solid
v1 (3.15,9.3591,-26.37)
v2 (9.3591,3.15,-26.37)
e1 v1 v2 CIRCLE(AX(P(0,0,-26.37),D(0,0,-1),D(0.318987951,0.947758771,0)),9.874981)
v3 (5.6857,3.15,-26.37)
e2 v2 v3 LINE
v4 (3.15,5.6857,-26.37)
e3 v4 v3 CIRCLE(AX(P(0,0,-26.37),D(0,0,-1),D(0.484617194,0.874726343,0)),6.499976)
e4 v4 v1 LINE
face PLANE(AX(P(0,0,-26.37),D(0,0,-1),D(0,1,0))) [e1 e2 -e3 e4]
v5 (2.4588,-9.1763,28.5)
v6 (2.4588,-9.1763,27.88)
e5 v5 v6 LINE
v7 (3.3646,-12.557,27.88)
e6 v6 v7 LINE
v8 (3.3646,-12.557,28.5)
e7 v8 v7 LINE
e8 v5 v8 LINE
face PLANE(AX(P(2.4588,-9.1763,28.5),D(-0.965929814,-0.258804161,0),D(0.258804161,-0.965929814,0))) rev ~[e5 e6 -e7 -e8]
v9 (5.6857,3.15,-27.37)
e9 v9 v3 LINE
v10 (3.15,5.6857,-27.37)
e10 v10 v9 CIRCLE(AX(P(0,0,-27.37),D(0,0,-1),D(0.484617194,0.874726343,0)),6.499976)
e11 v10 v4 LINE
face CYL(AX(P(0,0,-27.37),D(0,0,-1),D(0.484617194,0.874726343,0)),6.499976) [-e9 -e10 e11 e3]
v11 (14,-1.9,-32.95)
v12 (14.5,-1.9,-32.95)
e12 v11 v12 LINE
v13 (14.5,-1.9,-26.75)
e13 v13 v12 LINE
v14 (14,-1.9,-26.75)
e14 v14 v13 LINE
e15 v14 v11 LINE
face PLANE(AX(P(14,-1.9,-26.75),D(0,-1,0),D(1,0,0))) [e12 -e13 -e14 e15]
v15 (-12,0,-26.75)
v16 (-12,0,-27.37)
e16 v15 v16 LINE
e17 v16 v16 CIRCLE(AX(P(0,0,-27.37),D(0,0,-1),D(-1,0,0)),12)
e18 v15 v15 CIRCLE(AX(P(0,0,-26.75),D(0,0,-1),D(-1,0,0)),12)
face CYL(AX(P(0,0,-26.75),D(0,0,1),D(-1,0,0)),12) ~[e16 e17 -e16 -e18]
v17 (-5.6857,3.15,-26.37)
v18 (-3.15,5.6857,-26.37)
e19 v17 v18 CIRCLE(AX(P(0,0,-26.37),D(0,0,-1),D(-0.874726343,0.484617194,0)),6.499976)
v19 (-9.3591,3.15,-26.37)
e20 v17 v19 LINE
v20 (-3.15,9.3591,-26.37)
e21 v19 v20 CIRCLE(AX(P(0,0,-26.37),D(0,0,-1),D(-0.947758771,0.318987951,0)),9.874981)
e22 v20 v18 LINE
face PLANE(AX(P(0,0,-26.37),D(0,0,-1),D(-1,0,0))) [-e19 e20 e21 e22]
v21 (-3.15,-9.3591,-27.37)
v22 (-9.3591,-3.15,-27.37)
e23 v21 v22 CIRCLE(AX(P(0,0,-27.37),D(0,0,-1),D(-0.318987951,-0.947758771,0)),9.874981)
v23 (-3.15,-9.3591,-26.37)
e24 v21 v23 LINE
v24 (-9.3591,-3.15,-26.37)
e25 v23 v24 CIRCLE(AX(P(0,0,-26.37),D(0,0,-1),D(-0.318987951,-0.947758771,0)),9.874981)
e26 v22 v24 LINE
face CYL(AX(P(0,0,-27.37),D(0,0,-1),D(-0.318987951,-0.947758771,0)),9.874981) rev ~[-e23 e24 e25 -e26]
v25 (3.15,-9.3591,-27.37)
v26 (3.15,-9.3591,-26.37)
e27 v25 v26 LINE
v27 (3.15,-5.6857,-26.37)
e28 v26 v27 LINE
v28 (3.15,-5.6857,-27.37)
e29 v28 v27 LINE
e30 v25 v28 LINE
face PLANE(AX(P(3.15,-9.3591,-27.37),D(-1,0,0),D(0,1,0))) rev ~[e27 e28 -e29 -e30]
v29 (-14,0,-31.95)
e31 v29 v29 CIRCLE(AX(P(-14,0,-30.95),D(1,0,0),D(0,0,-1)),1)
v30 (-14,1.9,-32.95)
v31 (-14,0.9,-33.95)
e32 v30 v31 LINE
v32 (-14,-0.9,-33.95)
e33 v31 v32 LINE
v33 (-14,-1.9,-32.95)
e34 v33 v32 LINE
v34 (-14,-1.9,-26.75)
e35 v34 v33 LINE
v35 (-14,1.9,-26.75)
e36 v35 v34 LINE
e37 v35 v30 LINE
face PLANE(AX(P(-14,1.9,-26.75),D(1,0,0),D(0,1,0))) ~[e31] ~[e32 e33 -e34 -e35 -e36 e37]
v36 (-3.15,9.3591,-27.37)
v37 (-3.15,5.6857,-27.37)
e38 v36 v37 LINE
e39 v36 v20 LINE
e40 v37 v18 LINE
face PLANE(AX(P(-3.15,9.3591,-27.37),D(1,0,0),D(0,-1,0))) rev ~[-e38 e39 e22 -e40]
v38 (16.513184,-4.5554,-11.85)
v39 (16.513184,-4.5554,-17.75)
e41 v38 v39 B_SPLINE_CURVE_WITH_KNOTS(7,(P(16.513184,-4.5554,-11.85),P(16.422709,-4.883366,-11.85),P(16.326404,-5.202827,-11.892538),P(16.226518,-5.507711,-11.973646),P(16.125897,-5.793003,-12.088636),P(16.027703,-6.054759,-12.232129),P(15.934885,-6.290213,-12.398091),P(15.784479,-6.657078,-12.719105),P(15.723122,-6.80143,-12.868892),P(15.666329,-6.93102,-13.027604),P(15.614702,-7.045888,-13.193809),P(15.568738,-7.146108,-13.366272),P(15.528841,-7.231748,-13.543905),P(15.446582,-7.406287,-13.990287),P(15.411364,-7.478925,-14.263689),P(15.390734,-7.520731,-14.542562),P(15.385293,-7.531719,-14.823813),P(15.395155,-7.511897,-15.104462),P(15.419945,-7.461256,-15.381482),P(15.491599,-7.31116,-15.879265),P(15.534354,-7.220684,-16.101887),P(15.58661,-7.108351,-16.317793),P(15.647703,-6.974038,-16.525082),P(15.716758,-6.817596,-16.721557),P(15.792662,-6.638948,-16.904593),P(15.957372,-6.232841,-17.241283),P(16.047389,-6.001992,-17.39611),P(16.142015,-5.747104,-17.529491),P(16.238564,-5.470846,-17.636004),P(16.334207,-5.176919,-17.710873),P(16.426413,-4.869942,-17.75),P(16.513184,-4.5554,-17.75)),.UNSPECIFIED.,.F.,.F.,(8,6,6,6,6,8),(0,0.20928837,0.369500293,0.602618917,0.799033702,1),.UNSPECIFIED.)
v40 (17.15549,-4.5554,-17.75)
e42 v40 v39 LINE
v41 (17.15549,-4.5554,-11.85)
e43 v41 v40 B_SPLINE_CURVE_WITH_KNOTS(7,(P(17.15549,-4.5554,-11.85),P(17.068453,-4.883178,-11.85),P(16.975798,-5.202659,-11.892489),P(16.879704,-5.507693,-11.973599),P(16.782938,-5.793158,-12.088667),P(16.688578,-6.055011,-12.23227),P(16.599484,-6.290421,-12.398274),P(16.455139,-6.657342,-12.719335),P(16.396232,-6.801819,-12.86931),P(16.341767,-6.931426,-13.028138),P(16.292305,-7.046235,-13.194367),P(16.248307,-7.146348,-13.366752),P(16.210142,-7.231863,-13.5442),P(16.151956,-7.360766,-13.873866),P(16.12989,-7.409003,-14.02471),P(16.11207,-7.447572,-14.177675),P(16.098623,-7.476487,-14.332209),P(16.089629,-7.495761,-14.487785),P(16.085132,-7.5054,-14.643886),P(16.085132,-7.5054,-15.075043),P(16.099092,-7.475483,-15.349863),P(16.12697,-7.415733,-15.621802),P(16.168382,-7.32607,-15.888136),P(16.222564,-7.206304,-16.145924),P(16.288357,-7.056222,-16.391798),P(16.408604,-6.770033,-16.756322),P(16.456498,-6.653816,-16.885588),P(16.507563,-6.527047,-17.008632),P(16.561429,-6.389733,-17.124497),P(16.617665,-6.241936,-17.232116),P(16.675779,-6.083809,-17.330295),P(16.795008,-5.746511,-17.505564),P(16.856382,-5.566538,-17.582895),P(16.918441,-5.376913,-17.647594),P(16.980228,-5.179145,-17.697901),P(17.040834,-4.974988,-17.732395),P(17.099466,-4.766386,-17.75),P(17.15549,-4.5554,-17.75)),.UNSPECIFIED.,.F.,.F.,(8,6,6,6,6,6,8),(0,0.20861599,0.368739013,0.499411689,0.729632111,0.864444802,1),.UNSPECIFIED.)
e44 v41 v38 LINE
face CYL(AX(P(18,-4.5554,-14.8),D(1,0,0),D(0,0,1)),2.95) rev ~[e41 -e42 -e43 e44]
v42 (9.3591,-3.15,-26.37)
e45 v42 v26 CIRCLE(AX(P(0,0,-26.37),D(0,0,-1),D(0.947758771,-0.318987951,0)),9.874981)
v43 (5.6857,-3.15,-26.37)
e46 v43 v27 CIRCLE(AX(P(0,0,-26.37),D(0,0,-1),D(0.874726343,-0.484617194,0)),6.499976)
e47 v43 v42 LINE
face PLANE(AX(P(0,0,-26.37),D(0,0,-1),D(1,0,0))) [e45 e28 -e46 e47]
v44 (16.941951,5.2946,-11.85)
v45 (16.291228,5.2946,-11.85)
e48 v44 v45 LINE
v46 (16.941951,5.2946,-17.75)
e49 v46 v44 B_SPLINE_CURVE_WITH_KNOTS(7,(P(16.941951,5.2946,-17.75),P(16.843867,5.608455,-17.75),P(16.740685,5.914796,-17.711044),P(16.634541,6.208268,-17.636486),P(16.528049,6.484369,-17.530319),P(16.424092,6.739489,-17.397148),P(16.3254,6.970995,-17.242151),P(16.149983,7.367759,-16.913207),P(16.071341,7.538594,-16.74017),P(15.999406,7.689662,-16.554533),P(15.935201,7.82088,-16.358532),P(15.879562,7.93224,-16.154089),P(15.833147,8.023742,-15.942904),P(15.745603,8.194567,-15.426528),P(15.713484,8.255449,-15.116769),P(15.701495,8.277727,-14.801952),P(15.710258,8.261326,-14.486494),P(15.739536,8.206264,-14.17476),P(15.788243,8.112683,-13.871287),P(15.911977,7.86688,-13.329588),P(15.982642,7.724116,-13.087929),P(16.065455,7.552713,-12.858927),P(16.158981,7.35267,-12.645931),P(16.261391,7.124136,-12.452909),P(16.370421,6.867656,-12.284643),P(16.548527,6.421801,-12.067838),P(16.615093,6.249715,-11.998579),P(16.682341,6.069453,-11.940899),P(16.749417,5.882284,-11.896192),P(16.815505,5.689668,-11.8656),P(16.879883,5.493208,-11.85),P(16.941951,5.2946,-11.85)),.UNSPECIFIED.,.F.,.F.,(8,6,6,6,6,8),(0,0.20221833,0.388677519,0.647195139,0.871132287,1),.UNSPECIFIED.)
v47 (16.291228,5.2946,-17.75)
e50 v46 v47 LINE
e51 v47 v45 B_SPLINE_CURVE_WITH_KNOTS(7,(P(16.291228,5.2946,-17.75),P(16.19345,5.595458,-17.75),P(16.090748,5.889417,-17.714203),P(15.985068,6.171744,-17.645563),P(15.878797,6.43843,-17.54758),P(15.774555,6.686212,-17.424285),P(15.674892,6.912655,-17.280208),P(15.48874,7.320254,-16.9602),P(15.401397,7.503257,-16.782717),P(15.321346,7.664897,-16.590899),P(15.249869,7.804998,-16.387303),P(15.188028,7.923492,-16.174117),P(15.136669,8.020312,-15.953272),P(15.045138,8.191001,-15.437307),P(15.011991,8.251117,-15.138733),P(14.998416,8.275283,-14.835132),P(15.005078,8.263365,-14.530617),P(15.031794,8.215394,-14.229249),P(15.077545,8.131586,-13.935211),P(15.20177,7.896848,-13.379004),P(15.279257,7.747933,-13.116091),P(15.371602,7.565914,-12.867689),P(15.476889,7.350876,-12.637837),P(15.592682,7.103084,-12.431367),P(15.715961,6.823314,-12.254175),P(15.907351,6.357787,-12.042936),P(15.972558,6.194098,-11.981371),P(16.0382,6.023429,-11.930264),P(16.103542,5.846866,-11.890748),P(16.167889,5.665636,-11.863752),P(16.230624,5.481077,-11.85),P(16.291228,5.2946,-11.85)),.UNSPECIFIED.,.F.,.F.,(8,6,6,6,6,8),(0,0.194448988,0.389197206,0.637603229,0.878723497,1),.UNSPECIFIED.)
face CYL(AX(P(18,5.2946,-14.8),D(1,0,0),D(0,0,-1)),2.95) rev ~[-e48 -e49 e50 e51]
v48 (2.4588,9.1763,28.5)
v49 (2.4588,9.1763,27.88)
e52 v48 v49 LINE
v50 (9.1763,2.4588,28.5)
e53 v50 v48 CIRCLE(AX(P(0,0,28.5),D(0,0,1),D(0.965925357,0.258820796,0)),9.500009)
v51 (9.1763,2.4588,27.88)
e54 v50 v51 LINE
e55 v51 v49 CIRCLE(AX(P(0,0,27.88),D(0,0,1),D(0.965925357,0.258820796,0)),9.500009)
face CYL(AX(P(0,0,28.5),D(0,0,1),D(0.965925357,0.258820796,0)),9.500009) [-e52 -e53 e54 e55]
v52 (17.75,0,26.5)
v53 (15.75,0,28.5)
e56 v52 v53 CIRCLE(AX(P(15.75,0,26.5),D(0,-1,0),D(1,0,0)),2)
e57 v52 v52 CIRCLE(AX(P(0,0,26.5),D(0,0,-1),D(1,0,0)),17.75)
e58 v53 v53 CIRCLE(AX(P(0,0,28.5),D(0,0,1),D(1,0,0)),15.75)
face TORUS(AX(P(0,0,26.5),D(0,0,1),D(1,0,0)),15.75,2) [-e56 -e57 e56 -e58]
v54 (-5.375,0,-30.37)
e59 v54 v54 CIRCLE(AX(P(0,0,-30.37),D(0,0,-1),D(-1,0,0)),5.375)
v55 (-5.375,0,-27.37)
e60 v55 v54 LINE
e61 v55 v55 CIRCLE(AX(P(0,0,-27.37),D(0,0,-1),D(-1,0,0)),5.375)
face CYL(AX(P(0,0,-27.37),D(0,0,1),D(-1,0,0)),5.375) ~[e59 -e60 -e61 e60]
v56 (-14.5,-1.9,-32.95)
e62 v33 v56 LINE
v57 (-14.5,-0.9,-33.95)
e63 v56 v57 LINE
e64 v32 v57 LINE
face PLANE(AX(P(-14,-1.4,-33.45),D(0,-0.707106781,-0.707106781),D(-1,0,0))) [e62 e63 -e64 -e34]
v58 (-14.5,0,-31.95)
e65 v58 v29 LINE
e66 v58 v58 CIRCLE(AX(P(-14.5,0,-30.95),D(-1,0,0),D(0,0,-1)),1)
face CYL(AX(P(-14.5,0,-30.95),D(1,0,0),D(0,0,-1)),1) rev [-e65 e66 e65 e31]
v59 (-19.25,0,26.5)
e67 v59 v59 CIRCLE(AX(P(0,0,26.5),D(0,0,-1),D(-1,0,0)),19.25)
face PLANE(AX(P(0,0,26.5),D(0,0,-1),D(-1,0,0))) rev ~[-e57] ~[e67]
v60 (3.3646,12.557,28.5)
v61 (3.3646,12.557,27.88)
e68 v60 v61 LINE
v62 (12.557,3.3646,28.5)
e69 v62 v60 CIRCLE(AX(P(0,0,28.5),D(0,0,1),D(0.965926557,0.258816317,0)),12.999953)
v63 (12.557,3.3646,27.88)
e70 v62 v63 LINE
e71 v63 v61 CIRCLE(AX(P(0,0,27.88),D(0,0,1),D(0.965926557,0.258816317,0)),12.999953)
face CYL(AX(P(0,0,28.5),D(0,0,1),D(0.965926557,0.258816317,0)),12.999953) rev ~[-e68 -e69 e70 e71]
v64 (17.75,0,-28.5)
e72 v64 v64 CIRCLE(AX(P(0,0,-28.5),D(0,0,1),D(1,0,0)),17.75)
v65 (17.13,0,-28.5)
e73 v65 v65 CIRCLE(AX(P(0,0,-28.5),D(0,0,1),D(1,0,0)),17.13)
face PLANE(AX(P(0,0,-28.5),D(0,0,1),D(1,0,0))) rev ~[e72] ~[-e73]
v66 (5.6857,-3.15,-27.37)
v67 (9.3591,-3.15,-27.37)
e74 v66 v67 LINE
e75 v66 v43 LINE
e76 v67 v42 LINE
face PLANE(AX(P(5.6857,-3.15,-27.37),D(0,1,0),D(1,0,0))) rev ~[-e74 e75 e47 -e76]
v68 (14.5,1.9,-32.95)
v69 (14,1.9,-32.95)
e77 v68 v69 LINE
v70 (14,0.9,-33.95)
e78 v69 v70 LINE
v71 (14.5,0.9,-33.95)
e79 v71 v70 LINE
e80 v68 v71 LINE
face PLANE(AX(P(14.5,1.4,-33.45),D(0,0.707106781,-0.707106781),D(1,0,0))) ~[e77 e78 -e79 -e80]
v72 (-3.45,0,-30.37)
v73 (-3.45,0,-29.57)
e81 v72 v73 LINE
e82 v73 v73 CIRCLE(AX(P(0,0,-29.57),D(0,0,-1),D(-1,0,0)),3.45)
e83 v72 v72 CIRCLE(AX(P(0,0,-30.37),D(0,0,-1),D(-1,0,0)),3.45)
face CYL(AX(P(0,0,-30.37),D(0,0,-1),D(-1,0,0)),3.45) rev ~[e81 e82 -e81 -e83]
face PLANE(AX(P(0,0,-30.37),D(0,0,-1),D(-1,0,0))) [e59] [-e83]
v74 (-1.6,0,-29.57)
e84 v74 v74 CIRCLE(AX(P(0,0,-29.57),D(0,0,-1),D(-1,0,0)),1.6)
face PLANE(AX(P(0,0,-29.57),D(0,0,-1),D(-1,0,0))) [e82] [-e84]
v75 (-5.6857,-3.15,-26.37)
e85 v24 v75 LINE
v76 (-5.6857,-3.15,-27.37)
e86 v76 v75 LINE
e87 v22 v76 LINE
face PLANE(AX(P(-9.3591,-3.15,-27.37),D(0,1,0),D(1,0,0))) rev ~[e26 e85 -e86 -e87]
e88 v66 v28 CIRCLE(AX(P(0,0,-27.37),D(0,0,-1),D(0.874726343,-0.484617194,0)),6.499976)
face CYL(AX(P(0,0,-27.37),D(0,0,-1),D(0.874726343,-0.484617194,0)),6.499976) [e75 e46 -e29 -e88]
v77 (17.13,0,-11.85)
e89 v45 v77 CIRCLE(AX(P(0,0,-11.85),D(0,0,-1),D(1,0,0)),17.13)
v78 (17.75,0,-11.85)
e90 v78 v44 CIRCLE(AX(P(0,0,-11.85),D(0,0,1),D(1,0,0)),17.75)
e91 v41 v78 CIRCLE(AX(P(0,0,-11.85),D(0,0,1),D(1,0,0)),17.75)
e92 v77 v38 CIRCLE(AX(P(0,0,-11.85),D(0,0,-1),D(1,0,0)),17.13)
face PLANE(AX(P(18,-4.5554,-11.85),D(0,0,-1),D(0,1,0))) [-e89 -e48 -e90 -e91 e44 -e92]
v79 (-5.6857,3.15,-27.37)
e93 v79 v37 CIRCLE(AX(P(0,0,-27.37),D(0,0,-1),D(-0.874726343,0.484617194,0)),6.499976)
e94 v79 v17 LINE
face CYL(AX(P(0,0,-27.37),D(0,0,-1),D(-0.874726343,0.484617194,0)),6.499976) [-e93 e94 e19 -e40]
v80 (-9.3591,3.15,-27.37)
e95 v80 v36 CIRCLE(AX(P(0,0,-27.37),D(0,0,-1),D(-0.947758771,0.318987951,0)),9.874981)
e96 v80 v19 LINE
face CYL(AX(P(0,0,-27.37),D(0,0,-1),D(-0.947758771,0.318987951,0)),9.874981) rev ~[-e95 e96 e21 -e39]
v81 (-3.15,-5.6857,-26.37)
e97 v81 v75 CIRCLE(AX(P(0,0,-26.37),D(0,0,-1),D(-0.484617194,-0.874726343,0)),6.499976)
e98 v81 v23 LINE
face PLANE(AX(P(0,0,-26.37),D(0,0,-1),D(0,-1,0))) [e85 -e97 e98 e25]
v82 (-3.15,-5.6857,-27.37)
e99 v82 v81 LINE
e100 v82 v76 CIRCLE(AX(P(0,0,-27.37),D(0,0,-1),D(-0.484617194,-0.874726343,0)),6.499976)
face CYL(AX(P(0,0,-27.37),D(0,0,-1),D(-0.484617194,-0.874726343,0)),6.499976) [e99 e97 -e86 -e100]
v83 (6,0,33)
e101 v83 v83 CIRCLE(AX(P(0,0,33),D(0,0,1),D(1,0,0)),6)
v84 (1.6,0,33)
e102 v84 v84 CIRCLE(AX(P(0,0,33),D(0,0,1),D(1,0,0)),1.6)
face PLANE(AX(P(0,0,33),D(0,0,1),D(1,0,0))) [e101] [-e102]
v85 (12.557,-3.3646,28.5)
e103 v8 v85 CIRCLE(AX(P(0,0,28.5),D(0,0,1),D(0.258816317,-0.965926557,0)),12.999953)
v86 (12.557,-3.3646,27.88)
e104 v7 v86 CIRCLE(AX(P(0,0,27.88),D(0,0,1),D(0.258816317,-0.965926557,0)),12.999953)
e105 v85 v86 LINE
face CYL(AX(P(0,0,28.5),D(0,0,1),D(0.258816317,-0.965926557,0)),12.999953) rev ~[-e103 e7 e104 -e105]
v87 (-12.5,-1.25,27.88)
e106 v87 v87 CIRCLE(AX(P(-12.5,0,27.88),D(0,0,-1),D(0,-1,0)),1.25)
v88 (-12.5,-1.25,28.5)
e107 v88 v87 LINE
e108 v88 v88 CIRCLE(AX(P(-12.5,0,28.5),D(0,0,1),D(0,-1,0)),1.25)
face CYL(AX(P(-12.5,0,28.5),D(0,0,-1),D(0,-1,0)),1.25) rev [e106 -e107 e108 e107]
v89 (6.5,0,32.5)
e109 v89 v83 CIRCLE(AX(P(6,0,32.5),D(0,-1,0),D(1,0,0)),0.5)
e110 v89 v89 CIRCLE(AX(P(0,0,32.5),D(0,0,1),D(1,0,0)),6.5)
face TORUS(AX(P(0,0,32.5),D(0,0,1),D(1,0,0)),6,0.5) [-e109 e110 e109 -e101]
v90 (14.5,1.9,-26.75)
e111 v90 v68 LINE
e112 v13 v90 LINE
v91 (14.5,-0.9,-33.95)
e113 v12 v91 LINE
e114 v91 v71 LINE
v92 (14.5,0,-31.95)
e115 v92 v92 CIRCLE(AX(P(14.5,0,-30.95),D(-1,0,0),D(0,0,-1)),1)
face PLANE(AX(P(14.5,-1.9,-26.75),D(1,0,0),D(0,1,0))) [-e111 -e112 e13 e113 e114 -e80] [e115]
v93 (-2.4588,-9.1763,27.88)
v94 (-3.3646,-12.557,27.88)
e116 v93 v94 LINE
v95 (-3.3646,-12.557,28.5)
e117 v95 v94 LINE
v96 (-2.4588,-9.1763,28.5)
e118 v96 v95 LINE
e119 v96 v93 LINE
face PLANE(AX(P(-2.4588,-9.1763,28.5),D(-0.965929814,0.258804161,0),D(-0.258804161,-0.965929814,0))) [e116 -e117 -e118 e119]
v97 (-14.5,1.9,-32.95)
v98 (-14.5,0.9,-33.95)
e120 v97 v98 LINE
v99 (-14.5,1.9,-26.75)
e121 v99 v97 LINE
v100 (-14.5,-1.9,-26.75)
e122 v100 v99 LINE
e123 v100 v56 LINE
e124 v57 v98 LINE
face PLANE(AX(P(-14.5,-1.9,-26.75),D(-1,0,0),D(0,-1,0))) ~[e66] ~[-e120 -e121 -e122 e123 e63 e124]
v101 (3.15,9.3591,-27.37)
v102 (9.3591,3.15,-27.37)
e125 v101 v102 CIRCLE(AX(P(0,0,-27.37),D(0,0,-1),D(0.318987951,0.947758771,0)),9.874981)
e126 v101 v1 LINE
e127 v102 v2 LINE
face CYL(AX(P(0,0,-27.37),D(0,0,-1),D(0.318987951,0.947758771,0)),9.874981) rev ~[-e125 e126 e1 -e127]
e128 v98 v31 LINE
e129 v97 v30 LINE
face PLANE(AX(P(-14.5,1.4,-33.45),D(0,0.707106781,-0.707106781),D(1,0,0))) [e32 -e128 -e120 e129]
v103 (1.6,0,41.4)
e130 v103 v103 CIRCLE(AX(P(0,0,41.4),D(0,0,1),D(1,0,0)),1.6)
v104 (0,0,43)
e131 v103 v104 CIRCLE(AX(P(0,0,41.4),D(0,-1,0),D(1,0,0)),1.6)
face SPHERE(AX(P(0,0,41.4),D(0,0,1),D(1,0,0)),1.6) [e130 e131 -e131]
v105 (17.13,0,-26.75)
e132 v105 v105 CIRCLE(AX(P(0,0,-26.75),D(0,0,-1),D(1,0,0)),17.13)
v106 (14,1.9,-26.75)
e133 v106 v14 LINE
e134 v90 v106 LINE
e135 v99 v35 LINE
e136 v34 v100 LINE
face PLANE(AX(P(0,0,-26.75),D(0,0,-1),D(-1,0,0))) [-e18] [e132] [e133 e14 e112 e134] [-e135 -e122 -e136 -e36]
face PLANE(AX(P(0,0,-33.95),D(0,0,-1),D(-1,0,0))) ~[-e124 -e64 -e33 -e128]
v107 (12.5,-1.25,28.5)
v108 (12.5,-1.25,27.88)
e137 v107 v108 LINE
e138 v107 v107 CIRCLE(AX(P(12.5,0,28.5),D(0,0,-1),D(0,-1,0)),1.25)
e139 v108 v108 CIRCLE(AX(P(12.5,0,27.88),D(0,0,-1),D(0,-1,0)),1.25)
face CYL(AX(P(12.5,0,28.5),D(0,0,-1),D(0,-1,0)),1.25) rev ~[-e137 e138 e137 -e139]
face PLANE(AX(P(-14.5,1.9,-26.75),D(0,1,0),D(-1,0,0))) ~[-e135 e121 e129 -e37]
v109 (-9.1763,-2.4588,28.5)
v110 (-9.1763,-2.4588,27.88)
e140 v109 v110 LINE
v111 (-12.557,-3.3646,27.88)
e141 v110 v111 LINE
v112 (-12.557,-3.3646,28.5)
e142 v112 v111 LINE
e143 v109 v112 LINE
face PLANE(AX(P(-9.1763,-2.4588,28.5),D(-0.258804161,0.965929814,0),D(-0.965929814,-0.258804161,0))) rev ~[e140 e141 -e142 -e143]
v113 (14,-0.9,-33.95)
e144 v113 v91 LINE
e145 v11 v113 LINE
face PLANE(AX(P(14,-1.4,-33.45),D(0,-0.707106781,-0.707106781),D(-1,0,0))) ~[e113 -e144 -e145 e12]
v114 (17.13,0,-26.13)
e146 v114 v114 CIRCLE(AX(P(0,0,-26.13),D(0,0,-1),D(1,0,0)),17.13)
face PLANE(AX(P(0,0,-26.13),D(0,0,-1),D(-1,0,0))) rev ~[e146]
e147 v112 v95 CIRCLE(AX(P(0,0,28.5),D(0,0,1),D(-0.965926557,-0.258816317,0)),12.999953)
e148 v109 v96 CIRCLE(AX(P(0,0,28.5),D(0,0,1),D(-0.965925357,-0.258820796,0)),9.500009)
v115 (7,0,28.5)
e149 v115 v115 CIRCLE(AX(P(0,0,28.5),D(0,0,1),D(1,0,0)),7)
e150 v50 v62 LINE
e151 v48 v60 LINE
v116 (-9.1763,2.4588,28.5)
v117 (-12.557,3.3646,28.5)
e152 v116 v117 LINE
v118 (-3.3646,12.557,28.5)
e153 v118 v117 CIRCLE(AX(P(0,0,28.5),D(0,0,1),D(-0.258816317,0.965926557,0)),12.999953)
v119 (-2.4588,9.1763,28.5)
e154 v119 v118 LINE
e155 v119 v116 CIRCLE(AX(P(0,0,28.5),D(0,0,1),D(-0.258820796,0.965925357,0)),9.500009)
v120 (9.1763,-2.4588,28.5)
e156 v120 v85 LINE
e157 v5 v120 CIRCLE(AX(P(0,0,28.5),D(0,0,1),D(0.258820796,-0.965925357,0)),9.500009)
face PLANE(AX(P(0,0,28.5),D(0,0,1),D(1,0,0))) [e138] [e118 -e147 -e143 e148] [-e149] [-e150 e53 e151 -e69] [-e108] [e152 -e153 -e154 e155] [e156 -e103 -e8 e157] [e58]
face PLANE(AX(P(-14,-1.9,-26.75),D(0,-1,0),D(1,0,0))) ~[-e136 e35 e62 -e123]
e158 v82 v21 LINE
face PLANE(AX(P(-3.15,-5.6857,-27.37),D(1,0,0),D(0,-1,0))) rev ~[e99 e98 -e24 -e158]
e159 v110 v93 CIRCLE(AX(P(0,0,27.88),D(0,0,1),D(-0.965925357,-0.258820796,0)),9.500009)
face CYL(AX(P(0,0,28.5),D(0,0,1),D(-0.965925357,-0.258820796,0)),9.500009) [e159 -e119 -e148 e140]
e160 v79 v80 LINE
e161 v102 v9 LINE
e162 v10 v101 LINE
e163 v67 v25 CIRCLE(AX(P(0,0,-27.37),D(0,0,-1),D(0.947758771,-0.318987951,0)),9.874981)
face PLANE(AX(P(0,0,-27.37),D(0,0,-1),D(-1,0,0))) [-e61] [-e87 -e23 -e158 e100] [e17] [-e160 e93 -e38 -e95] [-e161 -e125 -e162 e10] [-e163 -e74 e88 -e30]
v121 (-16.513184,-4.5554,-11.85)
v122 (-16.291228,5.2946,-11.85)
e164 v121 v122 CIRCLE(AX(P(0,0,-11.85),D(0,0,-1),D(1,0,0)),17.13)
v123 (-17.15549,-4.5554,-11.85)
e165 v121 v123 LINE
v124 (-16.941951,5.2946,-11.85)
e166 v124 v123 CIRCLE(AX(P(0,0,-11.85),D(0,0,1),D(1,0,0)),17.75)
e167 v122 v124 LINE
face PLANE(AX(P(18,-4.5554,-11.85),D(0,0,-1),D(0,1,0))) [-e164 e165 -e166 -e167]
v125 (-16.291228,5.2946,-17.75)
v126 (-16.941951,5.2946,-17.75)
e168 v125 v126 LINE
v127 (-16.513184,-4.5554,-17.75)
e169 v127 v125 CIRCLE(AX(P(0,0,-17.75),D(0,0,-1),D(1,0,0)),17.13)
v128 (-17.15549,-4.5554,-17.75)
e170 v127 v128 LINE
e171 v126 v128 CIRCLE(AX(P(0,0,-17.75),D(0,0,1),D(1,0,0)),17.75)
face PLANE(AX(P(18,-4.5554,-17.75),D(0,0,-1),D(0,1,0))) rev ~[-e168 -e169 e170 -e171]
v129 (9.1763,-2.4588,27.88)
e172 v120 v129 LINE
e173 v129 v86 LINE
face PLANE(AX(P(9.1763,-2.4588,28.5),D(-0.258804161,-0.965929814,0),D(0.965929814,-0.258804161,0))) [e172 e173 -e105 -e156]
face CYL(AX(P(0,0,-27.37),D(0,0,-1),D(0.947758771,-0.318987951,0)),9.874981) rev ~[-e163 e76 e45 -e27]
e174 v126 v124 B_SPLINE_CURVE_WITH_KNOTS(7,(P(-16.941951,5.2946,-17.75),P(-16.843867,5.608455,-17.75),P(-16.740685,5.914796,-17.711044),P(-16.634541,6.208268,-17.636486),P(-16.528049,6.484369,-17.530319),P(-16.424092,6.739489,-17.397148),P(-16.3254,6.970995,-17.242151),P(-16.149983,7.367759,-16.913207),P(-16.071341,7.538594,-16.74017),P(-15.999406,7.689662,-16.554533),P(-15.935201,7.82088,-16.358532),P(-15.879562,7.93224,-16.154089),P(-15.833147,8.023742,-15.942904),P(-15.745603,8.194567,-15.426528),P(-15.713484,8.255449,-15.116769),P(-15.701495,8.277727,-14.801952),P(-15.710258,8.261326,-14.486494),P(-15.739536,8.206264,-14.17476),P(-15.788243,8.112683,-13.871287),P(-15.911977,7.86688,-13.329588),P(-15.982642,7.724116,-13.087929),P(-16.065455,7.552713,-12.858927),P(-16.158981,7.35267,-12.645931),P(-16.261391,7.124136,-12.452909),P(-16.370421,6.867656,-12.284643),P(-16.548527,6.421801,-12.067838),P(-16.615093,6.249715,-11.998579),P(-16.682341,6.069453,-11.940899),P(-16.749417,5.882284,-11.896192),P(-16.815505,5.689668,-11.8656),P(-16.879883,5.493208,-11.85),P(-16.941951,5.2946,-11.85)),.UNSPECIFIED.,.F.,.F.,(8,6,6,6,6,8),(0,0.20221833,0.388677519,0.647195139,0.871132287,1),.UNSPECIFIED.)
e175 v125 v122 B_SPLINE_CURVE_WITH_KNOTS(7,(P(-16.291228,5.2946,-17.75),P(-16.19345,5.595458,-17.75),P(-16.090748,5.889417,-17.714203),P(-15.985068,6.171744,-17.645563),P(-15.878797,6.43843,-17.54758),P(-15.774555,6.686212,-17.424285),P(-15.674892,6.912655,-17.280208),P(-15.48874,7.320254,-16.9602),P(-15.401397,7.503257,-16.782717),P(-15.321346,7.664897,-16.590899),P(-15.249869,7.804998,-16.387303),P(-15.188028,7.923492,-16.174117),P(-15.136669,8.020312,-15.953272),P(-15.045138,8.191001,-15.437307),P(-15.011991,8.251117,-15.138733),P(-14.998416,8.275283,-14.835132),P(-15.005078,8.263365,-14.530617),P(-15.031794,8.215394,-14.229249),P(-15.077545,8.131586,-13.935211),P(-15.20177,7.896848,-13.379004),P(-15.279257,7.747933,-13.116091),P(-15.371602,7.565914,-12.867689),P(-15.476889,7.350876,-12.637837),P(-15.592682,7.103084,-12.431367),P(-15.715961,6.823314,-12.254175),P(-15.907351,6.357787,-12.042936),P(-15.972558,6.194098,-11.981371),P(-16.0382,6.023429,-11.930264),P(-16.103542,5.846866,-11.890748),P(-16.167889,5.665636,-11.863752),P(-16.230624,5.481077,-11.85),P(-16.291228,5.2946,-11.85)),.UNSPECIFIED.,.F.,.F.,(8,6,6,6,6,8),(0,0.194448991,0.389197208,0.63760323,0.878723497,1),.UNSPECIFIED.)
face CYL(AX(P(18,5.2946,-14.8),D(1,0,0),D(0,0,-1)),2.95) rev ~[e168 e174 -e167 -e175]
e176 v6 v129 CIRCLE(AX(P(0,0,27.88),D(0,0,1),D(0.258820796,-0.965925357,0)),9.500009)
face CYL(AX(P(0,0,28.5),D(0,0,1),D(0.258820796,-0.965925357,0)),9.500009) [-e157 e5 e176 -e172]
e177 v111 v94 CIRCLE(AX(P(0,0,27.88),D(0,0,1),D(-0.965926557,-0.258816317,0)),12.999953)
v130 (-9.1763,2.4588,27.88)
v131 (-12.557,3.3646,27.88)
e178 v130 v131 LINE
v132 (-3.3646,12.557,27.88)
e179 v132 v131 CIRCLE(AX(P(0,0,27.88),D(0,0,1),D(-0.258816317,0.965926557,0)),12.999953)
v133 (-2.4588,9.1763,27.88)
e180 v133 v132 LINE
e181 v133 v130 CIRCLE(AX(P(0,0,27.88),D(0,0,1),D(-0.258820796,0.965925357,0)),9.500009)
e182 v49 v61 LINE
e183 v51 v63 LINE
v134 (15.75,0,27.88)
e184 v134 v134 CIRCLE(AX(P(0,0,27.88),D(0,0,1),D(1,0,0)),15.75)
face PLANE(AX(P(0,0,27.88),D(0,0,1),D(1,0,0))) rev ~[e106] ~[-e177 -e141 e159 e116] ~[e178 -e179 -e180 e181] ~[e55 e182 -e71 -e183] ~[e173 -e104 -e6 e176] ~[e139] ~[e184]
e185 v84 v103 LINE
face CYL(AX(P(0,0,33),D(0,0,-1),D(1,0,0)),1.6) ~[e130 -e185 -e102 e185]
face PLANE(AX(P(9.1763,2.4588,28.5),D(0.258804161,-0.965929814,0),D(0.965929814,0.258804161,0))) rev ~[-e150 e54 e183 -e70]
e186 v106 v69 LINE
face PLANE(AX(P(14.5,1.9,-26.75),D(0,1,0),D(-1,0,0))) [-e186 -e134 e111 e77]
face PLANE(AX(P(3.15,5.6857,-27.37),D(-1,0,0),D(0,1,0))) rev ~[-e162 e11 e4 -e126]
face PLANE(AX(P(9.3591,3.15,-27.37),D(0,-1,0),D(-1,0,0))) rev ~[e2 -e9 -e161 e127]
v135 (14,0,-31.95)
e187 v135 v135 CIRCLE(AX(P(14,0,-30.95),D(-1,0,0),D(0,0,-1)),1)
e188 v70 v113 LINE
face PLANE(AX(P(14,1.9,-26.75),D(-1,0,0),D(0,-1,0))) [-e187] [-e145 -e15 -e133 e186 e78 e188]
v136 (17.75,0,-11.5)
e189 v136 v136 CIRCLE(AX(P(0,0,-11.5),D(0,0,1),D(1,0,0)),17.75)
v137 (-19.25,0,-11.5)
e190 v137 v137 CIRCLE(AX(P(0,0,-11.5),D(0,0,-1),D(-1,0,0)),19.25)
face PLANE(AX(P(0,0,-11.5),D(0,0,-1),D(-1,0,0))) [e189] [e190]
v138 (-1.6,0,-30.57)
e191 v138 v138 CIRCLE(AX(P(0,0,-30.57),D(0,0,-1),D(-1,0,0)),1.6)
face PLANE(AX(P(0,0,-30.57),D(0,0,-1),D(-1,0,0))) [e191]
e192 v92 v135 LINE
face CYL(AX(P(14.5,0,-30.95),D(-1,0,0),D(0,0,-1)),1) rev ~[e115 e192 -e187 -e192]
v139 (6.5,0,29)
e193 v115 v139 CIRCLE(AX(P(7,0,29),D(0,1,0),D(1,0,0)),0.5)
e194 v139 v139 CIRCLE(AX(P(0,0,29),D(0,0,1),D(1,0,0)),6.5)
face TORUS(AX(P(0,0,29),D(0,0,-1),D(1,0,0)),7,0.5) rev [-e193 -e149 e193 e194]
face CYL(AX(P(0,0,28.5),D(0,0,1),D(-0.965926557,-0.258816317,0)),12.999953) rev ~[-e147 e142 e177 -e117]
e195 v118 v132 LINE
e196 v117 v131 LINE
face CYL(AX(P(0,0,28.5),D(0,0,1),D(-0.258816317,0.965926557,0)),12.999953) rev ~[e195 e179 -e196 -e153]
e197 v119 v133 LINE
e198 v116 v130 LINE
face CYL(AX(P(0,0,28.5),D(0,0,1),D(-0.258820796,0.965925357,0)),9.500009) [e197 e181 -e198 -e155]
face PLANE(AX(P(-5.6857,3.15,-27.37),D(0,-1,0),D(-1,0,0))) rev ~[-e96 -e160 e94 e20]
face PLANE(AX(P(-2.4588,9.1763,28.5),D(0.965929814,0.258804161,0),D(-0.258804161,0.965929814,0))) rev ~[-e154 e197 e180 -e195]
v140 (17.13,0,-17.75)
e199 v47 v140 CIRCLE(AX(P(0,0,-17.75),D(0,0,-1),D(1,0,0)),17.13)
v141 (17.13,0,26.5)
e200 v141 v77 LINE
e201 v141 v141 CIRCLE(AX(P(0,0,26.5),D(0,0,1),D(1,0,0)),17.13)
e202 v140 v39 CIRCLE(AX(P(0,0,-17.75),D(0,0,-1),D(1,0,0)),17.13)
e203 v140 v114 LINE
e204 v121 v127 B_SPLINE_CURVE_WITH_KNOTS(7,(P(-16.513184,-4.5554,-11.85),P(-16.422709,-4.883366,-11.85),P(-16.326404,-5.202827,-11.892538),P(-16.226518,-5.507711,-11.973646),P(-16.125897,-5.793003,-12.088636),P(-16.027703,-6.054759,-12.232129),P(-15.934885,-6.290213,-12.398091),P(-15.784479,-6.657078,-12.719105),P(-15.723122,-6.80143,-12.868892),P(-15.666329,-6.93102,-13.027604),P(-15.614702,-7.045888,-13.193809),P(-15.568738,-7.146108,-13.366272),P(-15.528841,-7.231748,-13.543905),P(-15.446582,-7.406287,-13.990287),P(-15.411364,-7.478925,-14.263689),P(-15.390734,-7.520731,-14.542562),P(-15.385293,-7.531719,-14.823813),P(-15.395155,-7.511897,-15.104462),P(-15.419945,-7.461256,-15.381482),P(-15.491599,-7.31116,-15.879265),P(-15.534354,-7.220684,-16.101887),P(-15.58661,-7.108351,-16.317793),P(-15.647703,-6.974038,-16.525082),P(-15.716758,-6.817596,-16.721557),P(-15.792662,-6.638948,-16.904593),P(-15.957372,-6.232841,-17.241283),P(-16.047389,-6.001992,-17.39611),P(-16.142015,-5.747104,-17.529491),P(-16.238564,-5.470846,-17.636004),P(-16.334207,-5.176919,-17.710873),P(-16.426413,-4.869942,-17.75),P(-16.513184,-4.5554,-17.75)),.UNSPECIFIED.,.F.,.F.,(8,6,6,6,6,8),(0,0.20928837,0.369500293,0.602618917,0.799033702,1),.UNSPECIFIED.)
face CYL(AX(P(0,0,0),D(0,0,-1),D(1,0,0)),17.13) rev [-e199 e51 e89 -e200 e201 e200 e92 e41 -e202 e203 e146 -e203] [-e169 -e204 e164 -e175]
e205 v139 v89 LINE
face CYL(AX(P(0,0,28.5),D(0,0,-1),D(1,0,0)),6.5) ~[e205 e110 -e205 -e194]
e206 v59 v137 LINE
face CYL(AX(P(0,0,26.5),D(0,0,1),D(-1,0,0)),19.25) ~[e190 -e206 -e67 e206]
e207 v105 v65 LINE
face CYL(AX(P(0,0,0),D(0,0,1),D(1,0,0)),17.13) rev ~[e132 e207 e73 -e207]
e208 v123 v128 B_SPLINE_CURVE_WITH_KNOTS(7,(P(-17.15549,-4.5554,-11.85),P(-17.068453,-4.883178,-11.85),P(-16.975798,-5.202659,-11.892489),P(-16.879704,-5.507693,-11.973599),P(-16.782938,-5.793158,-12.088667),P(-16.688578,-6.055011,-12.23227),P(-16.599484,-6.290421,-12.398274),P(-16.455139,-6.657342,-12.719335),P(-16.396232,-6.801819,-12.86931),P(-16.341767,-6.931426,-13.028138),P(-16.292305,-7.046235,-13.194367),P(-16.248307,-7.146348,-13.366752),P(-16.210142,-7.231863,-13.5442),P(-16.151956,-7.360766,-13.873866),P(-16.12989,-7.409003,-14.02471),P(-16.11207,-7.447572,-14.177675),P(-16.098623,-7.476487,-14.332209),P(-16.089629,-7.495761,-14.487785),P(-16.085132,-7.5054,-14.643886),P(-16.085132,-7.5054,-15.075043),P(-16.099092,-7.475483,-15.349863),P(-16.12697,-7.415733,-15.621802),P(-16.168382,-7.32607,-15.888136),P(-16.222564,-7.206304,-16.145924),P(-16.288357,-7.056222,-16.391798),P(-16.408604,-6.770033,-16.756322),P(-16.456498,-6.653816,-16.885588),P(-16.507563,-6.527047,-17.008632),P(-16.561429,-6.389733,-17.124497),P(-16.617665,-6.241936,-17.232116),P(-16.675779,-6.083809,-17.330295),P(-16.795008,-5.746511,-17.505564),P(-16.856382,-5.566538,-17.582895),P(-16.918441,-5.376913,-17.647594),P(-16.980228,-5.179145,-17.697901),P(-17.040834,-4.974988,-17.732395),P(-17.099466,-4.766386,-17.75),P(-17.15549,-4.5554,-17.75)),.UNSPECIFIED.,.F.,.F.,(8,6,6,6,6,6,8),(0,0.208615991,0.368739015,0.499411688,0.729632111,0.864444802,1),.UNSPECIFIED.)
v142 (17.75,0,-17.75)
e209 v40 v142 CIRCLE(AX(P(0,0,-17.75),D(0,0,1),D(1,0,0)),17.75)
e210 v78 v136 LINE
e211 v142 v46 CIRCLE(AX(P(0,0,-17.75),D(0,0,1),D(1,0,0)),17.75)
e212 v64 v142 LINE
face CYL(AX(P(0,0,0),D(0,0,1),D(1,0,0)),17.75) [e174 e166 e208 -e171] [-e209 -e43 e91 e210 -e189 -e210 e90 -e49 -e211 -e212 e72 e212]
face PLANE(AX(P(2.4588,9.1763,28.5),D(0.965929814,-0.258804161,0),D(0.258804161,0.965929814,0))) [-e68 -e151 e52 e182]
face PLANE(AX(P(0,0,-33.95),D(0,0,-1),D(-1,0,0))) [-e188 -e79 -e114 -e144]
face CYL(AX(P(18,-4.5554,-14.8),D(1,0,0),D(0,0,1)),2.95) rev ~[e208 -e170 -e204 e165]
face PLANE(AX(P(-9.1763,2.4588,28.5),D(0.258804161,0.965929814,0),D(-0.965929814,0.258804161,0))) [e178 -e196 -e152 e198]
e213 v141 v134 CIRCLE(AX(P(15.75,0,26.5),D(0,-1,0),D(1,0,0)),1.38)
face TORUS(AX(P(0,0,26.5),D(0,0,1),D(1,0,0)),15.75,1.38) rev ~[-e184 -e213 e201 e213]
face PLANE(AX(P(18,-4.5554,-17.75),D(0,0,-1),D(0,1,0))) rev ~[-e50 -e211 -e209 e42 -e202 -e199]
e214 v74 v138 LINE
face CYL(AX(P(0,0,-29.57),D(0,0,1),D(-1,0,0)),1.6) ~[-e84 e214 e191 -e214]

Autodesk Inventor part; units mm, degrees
sketch "Sketch1" plane through (0, 0, 0) normal (0, 0, 1) x (1, 0, 0)
  circle A0 centre (0, 0) radius 17.75
  dimension "d0" = 35.5
extrude "Extrusion1" add sketch "Sketch1" along normal mid plane 57
fillet "Fillet1" radius 2 1 edges at (-17.75, 0, 28.5)
shell "Shell1" thickness 0.62 removed faces 1 at (3.0438, 4.2648, -28.5)
sketch "Sketch2" plane through (0, 0, 28.5) normal (0, 0, 1) x (1, 0, 0)
  circle A0 centre (0, 0) radius 15.75 projected
  circle A1 centre (0, 0) radius 6.5
  dimension "d5" = 13
extrude "Extrusion2" add sketch "Sketch2" along normal blind 4.5 contours A1
fillet "Fillet2" radius 0.5 2 edges at (-6.5, 0, 28.5) (-6.5, 0, 33)
sketch "Sketch3" plane through (0, 0, 33) normal (0, 0, 1) x (1, 0, 0)
  circle A0 centre (0, 0) radius 6 projected
  circle A1 centre (0, 0) radius 1.6
  dimension "d9" = 3.2
extrude "Extrusion3" add sketch "Sketch3" along normal blind 10 contours A1
fillet "Fillet3" radius 1.6 1 edges at (-1.6, 0, 43)
sketch "Sketch4" plane through (0, 0, 28.5) normal (0, 0, 1) x (1, 0, 0)
  circle A0 centre (0, 0) radius 15.75 projected
  point P0 (12.5, 0)
  dimension "d13" = 12.5
hole "Hole1" at (12.5, 0, 28.5) direction (0, 0, -1) diameter 2.5 depth 8 tip angle 118
mirror "Mirror1" about plane through (0, 0, 0) normal (1, 0, 0) of "Hole1"
sketch "Sketch5" plane through (0, 0, 28.5) normal (0, 0, 1) x (1, 0, 0)
  circle A0 centre (12.5, 0) radius 1.25 projected
  circle A1 centre (0, 0) radius 7 projected
  arc A2 (12.557, 3.3646) -> (3.3646, 12.557) centre (0, 0) ccw
  arc A3 (9.1763, 2.4588) -> (2.4588, 9.1763) centre (0, 0) ccw
  line L0 (0, 0) -> (3.3646, 12.557) construction
  line L1 (0, 0) -> (12.557, 3.3646) construction
  line L2 (2.4588, 9.1763) -> (3.3646, 12.557)
  line L3 (9.1763, 2.4588) -> (12.557, 3.3646)
  line L4 (0, 0) -> (12.5, 0) construction
  line L5 (0.151, 0.5634) -> (0.151, 14.7153) construction
  dimension "d21" = 15
  dimension "d22" = 15
  dimension "d23" = 13
  dimension "d24" = 9.5
extrude "Extrusion4" cut sketch "Sketch5" against normal blind 10 contours L3 A3 L2 A2
pattern_circular "Circular Pattern1" count 4 over 360 about axis through (0, 0, 0) along (0, 0, 1) of "Extrusion4"
ref_plane "Work Plane1" through (0, 0, -26.75) normal (0, 0, -1) x (-1, 0, 0)
sketch "Sketch6" plane through (0, 0, -26.75) normal (0, 0, -1) x (-1, 0, 0)
  circle A0 centre (0, 0) radius 17.13 projected
extrude "Extrusion5" add sketch "Sketch6" against normal blind 0.62
sketch "Sketch7" plane through (0, 0, -26.75) normal (0, 0, -1) x (-1, 0, 0)
  circle A0 centre (0, 0) radius 17.13 projected
  circle A1 centre (0, 0) radius 12
  dimension "d33" = 24
extrude "Extrusion6" add sketch "Sketch7" along normal blind 0.62 contours A1
sketch "Sketch8" plane through (0, 0, -27.37) normal (0, 0, -1) x (-1, 0, 0)
  circle A0 centre (0, 0) radius 12 projected
  circle A1 centre (0, 0) radius 5.375
  dimension "d36" = 10.75
extrude "Extrusion7" add sketch "Sketch8" along normal blind 3 contours A1
sketch "Sketch9" plane through (0, 0, -30.37) normal (0, 0, -1) x (-1, 0, 0)
  circle A0 centre (0, 0) radius 5.375 projected
  circle A1 centre (0, 0) radius 3.45
  dimension "d39" = 6.9
extrude "Extrusion8" cut sketch "Sketch9" against normal blind 0.8 contours A1
sketch "Sketch10" plane through (0, 0, -29.57) normal (0, 0, -1) x (-1, 0, 0)
  circle A0 centre (0, 0) radius 3.45 projected
  circle A1 centre (0, 0) radius 1.6
  dimension "d42" = 3.2
extrude "Extrusion9" add sketch "Sketch10" along normal blind 1 contours A1
sketch "Sketch11" plane through (0, 0, -27.37) normal (0, 0, -1) x (-1, 0, 0)
  circle A0 centre (0, 0) radius 5.375 projected
  circle A1 centre (0, 0) radius 12 projected
  arc A2 (9.3591, 3.15) -> (3.15, 9.3591) centre (0, 0) ccw
  arc A3 (5.6857, 3.15) -> (3.15, 5.6857) centre (0, 0) ccw
  line L0 (3.15, 9.3591) -> (3.15, 5.6857)
  line L1 (5.6857, 3.15) -> (9.3591, 3.15)
  dimension "d45" = 3.15
  dimension "d46" = 3.15
  dimension "d47" = 9.875
  dimension "d48" = 6.5
extrude "Extrusion10" cut sketch "Sketch11" against normal blind 1 contours L1 A3 L0 A2
pattern_circular "Circular Pattern2" count 4 over 360 about axis through (0, 0, 0) along (0, 0, 1) of "Extrusion10"
sketch "Sketch12" plane through (0, 0, -26.75) normal (0, 0, -1) x (-1, 0, 0)
  circle A0 centre (0, 0) radius 12 projected
  circle A1 centre (0, 0) radius 17.13 projected
  line L0 (-14.5, 1.9) -> (-14, 1.9)
  line L1 (-14, 1.9) -> (-14, -1.9)
  line L2 (-14, -1.9) -> (-14.5, -1.9)
  line L3 (-14.5, -1.9) -> (-14.5, 1.9)
  line L4 (0, 0) -> (-16.9017, 0) construction
  point P0 (-14, 0)
  dimension "d54" = 0.5
  dimension "d55" = 3.8
  dimension "d56" = 14
extrude "Extrusion11" add sketch "Sketch12" along normal blind 7.2 contours L0 L1 L2 L3
chamfer "Chamfer1" distance 1 angle 45 2 edges at (14.25, 1.9, -33.95) (14.25, -1.9, -33.95)
sketch "Sketch13" plane through (14.5, -1.9, -26.75) normal (1, 0, 0) x (0, 0, -1)
  line L0 (7.2, 1) -> (7.2, 2.8) projected
  line L1 (4.2, 1.9) -> (6.2, 3.8) construction
  line L2 (4.2, 1.9) -> (6.2, 0) construction
  dimension "d61" = 3
hole "Hole2" at (14.5, 0, -30.95) direction (-1, 0, 0) diameter 2 depth 1 tip angle 118
mirror "Mirror2" about plane through (0, 0, 0) normal (1, 0, 0) of "Extrusion11", "Chamfer1", "Hole2"
ref_plane "Work Plane2" through (18, 0, 0) normal (1, 0, 0) x (0, 1, 0)
sketch "Sketch14" plane through (18, 0, 0) normal (1, 0, 0) x (0, 1, 0)
  arc A0 (-4.5554, -11.85) -> (-4.5554, -17.75) centre (-4.5554, -14.8) ccw
  arc A1 (5.2946, -17.75) -> (5.2946, -11.85) centre (5.2946, -14.8) ccw
  line L0 (-4.5554, -11.85) -> (5.2946, -11.85)
  line L1 (-4.5554, -17.75) -> (5.2946, -17.75)
  line L2 (17.75, -28.5) -> (-17.75, -28.5) projected
  line L3 (0, -28.5) -> (0, 17.1564) construction
  dimension "d70" = 10.75
  dimension "d71" = 5.9
  dimension "d72" = 9.85
extrude "Extrusion12" cut sketch "Sketch14" against normal through all
ref_plane "Work Plane3" through (0, 0, 26.5) normal (0, 0, -1) x (-1, 0, 0)
sketch "Sketch15" plane through (0, 0, 26.5) normal (0, 0, -1) x (-1, 0, 0)
  circle A0 centre (0, 0) radius 17.75 projected
  circle A1 centre (0, 0) radius 19.25
  dimension "d76" = 1.5
extrude "Flux Ring" add sketch "Sketch15" along normal blind 38
ref_plane "Work Plane4" through (-17.675, -0.9, -33.95) normal (-1, 0, 0) x (0, 0, 1)
sketch "Sketch16" plane through (-14.5, -0.9, -33.95) normal (-1, 0, 0) x (0, 0, 1)
  circle A0 centre (3, 0.9) radius 1 projected
sketch "Sketch17" plane through (14.5, -1.9, -26.75) normal (1, 0, 0) x (0, 0, -1)
  circle A0 centre (4.2, 1.9) radius 1 projected
ref_plane "Work Plane5" through (-20.85, -0.9, -33.95) normal (-1, 0, 0) x (0, 0, 1)
ref_plane "Work Plane6" through (17.675, -1.9, -26.75) normal (1, 0, 0) x (0, 0, -1)
ref_plane "Work Plane7" through (20.85, -1.9, -26.75) normal (1, 0, 0) x (0, 0, -1)
properties part number "RS-550" material "Steel, Mild"
